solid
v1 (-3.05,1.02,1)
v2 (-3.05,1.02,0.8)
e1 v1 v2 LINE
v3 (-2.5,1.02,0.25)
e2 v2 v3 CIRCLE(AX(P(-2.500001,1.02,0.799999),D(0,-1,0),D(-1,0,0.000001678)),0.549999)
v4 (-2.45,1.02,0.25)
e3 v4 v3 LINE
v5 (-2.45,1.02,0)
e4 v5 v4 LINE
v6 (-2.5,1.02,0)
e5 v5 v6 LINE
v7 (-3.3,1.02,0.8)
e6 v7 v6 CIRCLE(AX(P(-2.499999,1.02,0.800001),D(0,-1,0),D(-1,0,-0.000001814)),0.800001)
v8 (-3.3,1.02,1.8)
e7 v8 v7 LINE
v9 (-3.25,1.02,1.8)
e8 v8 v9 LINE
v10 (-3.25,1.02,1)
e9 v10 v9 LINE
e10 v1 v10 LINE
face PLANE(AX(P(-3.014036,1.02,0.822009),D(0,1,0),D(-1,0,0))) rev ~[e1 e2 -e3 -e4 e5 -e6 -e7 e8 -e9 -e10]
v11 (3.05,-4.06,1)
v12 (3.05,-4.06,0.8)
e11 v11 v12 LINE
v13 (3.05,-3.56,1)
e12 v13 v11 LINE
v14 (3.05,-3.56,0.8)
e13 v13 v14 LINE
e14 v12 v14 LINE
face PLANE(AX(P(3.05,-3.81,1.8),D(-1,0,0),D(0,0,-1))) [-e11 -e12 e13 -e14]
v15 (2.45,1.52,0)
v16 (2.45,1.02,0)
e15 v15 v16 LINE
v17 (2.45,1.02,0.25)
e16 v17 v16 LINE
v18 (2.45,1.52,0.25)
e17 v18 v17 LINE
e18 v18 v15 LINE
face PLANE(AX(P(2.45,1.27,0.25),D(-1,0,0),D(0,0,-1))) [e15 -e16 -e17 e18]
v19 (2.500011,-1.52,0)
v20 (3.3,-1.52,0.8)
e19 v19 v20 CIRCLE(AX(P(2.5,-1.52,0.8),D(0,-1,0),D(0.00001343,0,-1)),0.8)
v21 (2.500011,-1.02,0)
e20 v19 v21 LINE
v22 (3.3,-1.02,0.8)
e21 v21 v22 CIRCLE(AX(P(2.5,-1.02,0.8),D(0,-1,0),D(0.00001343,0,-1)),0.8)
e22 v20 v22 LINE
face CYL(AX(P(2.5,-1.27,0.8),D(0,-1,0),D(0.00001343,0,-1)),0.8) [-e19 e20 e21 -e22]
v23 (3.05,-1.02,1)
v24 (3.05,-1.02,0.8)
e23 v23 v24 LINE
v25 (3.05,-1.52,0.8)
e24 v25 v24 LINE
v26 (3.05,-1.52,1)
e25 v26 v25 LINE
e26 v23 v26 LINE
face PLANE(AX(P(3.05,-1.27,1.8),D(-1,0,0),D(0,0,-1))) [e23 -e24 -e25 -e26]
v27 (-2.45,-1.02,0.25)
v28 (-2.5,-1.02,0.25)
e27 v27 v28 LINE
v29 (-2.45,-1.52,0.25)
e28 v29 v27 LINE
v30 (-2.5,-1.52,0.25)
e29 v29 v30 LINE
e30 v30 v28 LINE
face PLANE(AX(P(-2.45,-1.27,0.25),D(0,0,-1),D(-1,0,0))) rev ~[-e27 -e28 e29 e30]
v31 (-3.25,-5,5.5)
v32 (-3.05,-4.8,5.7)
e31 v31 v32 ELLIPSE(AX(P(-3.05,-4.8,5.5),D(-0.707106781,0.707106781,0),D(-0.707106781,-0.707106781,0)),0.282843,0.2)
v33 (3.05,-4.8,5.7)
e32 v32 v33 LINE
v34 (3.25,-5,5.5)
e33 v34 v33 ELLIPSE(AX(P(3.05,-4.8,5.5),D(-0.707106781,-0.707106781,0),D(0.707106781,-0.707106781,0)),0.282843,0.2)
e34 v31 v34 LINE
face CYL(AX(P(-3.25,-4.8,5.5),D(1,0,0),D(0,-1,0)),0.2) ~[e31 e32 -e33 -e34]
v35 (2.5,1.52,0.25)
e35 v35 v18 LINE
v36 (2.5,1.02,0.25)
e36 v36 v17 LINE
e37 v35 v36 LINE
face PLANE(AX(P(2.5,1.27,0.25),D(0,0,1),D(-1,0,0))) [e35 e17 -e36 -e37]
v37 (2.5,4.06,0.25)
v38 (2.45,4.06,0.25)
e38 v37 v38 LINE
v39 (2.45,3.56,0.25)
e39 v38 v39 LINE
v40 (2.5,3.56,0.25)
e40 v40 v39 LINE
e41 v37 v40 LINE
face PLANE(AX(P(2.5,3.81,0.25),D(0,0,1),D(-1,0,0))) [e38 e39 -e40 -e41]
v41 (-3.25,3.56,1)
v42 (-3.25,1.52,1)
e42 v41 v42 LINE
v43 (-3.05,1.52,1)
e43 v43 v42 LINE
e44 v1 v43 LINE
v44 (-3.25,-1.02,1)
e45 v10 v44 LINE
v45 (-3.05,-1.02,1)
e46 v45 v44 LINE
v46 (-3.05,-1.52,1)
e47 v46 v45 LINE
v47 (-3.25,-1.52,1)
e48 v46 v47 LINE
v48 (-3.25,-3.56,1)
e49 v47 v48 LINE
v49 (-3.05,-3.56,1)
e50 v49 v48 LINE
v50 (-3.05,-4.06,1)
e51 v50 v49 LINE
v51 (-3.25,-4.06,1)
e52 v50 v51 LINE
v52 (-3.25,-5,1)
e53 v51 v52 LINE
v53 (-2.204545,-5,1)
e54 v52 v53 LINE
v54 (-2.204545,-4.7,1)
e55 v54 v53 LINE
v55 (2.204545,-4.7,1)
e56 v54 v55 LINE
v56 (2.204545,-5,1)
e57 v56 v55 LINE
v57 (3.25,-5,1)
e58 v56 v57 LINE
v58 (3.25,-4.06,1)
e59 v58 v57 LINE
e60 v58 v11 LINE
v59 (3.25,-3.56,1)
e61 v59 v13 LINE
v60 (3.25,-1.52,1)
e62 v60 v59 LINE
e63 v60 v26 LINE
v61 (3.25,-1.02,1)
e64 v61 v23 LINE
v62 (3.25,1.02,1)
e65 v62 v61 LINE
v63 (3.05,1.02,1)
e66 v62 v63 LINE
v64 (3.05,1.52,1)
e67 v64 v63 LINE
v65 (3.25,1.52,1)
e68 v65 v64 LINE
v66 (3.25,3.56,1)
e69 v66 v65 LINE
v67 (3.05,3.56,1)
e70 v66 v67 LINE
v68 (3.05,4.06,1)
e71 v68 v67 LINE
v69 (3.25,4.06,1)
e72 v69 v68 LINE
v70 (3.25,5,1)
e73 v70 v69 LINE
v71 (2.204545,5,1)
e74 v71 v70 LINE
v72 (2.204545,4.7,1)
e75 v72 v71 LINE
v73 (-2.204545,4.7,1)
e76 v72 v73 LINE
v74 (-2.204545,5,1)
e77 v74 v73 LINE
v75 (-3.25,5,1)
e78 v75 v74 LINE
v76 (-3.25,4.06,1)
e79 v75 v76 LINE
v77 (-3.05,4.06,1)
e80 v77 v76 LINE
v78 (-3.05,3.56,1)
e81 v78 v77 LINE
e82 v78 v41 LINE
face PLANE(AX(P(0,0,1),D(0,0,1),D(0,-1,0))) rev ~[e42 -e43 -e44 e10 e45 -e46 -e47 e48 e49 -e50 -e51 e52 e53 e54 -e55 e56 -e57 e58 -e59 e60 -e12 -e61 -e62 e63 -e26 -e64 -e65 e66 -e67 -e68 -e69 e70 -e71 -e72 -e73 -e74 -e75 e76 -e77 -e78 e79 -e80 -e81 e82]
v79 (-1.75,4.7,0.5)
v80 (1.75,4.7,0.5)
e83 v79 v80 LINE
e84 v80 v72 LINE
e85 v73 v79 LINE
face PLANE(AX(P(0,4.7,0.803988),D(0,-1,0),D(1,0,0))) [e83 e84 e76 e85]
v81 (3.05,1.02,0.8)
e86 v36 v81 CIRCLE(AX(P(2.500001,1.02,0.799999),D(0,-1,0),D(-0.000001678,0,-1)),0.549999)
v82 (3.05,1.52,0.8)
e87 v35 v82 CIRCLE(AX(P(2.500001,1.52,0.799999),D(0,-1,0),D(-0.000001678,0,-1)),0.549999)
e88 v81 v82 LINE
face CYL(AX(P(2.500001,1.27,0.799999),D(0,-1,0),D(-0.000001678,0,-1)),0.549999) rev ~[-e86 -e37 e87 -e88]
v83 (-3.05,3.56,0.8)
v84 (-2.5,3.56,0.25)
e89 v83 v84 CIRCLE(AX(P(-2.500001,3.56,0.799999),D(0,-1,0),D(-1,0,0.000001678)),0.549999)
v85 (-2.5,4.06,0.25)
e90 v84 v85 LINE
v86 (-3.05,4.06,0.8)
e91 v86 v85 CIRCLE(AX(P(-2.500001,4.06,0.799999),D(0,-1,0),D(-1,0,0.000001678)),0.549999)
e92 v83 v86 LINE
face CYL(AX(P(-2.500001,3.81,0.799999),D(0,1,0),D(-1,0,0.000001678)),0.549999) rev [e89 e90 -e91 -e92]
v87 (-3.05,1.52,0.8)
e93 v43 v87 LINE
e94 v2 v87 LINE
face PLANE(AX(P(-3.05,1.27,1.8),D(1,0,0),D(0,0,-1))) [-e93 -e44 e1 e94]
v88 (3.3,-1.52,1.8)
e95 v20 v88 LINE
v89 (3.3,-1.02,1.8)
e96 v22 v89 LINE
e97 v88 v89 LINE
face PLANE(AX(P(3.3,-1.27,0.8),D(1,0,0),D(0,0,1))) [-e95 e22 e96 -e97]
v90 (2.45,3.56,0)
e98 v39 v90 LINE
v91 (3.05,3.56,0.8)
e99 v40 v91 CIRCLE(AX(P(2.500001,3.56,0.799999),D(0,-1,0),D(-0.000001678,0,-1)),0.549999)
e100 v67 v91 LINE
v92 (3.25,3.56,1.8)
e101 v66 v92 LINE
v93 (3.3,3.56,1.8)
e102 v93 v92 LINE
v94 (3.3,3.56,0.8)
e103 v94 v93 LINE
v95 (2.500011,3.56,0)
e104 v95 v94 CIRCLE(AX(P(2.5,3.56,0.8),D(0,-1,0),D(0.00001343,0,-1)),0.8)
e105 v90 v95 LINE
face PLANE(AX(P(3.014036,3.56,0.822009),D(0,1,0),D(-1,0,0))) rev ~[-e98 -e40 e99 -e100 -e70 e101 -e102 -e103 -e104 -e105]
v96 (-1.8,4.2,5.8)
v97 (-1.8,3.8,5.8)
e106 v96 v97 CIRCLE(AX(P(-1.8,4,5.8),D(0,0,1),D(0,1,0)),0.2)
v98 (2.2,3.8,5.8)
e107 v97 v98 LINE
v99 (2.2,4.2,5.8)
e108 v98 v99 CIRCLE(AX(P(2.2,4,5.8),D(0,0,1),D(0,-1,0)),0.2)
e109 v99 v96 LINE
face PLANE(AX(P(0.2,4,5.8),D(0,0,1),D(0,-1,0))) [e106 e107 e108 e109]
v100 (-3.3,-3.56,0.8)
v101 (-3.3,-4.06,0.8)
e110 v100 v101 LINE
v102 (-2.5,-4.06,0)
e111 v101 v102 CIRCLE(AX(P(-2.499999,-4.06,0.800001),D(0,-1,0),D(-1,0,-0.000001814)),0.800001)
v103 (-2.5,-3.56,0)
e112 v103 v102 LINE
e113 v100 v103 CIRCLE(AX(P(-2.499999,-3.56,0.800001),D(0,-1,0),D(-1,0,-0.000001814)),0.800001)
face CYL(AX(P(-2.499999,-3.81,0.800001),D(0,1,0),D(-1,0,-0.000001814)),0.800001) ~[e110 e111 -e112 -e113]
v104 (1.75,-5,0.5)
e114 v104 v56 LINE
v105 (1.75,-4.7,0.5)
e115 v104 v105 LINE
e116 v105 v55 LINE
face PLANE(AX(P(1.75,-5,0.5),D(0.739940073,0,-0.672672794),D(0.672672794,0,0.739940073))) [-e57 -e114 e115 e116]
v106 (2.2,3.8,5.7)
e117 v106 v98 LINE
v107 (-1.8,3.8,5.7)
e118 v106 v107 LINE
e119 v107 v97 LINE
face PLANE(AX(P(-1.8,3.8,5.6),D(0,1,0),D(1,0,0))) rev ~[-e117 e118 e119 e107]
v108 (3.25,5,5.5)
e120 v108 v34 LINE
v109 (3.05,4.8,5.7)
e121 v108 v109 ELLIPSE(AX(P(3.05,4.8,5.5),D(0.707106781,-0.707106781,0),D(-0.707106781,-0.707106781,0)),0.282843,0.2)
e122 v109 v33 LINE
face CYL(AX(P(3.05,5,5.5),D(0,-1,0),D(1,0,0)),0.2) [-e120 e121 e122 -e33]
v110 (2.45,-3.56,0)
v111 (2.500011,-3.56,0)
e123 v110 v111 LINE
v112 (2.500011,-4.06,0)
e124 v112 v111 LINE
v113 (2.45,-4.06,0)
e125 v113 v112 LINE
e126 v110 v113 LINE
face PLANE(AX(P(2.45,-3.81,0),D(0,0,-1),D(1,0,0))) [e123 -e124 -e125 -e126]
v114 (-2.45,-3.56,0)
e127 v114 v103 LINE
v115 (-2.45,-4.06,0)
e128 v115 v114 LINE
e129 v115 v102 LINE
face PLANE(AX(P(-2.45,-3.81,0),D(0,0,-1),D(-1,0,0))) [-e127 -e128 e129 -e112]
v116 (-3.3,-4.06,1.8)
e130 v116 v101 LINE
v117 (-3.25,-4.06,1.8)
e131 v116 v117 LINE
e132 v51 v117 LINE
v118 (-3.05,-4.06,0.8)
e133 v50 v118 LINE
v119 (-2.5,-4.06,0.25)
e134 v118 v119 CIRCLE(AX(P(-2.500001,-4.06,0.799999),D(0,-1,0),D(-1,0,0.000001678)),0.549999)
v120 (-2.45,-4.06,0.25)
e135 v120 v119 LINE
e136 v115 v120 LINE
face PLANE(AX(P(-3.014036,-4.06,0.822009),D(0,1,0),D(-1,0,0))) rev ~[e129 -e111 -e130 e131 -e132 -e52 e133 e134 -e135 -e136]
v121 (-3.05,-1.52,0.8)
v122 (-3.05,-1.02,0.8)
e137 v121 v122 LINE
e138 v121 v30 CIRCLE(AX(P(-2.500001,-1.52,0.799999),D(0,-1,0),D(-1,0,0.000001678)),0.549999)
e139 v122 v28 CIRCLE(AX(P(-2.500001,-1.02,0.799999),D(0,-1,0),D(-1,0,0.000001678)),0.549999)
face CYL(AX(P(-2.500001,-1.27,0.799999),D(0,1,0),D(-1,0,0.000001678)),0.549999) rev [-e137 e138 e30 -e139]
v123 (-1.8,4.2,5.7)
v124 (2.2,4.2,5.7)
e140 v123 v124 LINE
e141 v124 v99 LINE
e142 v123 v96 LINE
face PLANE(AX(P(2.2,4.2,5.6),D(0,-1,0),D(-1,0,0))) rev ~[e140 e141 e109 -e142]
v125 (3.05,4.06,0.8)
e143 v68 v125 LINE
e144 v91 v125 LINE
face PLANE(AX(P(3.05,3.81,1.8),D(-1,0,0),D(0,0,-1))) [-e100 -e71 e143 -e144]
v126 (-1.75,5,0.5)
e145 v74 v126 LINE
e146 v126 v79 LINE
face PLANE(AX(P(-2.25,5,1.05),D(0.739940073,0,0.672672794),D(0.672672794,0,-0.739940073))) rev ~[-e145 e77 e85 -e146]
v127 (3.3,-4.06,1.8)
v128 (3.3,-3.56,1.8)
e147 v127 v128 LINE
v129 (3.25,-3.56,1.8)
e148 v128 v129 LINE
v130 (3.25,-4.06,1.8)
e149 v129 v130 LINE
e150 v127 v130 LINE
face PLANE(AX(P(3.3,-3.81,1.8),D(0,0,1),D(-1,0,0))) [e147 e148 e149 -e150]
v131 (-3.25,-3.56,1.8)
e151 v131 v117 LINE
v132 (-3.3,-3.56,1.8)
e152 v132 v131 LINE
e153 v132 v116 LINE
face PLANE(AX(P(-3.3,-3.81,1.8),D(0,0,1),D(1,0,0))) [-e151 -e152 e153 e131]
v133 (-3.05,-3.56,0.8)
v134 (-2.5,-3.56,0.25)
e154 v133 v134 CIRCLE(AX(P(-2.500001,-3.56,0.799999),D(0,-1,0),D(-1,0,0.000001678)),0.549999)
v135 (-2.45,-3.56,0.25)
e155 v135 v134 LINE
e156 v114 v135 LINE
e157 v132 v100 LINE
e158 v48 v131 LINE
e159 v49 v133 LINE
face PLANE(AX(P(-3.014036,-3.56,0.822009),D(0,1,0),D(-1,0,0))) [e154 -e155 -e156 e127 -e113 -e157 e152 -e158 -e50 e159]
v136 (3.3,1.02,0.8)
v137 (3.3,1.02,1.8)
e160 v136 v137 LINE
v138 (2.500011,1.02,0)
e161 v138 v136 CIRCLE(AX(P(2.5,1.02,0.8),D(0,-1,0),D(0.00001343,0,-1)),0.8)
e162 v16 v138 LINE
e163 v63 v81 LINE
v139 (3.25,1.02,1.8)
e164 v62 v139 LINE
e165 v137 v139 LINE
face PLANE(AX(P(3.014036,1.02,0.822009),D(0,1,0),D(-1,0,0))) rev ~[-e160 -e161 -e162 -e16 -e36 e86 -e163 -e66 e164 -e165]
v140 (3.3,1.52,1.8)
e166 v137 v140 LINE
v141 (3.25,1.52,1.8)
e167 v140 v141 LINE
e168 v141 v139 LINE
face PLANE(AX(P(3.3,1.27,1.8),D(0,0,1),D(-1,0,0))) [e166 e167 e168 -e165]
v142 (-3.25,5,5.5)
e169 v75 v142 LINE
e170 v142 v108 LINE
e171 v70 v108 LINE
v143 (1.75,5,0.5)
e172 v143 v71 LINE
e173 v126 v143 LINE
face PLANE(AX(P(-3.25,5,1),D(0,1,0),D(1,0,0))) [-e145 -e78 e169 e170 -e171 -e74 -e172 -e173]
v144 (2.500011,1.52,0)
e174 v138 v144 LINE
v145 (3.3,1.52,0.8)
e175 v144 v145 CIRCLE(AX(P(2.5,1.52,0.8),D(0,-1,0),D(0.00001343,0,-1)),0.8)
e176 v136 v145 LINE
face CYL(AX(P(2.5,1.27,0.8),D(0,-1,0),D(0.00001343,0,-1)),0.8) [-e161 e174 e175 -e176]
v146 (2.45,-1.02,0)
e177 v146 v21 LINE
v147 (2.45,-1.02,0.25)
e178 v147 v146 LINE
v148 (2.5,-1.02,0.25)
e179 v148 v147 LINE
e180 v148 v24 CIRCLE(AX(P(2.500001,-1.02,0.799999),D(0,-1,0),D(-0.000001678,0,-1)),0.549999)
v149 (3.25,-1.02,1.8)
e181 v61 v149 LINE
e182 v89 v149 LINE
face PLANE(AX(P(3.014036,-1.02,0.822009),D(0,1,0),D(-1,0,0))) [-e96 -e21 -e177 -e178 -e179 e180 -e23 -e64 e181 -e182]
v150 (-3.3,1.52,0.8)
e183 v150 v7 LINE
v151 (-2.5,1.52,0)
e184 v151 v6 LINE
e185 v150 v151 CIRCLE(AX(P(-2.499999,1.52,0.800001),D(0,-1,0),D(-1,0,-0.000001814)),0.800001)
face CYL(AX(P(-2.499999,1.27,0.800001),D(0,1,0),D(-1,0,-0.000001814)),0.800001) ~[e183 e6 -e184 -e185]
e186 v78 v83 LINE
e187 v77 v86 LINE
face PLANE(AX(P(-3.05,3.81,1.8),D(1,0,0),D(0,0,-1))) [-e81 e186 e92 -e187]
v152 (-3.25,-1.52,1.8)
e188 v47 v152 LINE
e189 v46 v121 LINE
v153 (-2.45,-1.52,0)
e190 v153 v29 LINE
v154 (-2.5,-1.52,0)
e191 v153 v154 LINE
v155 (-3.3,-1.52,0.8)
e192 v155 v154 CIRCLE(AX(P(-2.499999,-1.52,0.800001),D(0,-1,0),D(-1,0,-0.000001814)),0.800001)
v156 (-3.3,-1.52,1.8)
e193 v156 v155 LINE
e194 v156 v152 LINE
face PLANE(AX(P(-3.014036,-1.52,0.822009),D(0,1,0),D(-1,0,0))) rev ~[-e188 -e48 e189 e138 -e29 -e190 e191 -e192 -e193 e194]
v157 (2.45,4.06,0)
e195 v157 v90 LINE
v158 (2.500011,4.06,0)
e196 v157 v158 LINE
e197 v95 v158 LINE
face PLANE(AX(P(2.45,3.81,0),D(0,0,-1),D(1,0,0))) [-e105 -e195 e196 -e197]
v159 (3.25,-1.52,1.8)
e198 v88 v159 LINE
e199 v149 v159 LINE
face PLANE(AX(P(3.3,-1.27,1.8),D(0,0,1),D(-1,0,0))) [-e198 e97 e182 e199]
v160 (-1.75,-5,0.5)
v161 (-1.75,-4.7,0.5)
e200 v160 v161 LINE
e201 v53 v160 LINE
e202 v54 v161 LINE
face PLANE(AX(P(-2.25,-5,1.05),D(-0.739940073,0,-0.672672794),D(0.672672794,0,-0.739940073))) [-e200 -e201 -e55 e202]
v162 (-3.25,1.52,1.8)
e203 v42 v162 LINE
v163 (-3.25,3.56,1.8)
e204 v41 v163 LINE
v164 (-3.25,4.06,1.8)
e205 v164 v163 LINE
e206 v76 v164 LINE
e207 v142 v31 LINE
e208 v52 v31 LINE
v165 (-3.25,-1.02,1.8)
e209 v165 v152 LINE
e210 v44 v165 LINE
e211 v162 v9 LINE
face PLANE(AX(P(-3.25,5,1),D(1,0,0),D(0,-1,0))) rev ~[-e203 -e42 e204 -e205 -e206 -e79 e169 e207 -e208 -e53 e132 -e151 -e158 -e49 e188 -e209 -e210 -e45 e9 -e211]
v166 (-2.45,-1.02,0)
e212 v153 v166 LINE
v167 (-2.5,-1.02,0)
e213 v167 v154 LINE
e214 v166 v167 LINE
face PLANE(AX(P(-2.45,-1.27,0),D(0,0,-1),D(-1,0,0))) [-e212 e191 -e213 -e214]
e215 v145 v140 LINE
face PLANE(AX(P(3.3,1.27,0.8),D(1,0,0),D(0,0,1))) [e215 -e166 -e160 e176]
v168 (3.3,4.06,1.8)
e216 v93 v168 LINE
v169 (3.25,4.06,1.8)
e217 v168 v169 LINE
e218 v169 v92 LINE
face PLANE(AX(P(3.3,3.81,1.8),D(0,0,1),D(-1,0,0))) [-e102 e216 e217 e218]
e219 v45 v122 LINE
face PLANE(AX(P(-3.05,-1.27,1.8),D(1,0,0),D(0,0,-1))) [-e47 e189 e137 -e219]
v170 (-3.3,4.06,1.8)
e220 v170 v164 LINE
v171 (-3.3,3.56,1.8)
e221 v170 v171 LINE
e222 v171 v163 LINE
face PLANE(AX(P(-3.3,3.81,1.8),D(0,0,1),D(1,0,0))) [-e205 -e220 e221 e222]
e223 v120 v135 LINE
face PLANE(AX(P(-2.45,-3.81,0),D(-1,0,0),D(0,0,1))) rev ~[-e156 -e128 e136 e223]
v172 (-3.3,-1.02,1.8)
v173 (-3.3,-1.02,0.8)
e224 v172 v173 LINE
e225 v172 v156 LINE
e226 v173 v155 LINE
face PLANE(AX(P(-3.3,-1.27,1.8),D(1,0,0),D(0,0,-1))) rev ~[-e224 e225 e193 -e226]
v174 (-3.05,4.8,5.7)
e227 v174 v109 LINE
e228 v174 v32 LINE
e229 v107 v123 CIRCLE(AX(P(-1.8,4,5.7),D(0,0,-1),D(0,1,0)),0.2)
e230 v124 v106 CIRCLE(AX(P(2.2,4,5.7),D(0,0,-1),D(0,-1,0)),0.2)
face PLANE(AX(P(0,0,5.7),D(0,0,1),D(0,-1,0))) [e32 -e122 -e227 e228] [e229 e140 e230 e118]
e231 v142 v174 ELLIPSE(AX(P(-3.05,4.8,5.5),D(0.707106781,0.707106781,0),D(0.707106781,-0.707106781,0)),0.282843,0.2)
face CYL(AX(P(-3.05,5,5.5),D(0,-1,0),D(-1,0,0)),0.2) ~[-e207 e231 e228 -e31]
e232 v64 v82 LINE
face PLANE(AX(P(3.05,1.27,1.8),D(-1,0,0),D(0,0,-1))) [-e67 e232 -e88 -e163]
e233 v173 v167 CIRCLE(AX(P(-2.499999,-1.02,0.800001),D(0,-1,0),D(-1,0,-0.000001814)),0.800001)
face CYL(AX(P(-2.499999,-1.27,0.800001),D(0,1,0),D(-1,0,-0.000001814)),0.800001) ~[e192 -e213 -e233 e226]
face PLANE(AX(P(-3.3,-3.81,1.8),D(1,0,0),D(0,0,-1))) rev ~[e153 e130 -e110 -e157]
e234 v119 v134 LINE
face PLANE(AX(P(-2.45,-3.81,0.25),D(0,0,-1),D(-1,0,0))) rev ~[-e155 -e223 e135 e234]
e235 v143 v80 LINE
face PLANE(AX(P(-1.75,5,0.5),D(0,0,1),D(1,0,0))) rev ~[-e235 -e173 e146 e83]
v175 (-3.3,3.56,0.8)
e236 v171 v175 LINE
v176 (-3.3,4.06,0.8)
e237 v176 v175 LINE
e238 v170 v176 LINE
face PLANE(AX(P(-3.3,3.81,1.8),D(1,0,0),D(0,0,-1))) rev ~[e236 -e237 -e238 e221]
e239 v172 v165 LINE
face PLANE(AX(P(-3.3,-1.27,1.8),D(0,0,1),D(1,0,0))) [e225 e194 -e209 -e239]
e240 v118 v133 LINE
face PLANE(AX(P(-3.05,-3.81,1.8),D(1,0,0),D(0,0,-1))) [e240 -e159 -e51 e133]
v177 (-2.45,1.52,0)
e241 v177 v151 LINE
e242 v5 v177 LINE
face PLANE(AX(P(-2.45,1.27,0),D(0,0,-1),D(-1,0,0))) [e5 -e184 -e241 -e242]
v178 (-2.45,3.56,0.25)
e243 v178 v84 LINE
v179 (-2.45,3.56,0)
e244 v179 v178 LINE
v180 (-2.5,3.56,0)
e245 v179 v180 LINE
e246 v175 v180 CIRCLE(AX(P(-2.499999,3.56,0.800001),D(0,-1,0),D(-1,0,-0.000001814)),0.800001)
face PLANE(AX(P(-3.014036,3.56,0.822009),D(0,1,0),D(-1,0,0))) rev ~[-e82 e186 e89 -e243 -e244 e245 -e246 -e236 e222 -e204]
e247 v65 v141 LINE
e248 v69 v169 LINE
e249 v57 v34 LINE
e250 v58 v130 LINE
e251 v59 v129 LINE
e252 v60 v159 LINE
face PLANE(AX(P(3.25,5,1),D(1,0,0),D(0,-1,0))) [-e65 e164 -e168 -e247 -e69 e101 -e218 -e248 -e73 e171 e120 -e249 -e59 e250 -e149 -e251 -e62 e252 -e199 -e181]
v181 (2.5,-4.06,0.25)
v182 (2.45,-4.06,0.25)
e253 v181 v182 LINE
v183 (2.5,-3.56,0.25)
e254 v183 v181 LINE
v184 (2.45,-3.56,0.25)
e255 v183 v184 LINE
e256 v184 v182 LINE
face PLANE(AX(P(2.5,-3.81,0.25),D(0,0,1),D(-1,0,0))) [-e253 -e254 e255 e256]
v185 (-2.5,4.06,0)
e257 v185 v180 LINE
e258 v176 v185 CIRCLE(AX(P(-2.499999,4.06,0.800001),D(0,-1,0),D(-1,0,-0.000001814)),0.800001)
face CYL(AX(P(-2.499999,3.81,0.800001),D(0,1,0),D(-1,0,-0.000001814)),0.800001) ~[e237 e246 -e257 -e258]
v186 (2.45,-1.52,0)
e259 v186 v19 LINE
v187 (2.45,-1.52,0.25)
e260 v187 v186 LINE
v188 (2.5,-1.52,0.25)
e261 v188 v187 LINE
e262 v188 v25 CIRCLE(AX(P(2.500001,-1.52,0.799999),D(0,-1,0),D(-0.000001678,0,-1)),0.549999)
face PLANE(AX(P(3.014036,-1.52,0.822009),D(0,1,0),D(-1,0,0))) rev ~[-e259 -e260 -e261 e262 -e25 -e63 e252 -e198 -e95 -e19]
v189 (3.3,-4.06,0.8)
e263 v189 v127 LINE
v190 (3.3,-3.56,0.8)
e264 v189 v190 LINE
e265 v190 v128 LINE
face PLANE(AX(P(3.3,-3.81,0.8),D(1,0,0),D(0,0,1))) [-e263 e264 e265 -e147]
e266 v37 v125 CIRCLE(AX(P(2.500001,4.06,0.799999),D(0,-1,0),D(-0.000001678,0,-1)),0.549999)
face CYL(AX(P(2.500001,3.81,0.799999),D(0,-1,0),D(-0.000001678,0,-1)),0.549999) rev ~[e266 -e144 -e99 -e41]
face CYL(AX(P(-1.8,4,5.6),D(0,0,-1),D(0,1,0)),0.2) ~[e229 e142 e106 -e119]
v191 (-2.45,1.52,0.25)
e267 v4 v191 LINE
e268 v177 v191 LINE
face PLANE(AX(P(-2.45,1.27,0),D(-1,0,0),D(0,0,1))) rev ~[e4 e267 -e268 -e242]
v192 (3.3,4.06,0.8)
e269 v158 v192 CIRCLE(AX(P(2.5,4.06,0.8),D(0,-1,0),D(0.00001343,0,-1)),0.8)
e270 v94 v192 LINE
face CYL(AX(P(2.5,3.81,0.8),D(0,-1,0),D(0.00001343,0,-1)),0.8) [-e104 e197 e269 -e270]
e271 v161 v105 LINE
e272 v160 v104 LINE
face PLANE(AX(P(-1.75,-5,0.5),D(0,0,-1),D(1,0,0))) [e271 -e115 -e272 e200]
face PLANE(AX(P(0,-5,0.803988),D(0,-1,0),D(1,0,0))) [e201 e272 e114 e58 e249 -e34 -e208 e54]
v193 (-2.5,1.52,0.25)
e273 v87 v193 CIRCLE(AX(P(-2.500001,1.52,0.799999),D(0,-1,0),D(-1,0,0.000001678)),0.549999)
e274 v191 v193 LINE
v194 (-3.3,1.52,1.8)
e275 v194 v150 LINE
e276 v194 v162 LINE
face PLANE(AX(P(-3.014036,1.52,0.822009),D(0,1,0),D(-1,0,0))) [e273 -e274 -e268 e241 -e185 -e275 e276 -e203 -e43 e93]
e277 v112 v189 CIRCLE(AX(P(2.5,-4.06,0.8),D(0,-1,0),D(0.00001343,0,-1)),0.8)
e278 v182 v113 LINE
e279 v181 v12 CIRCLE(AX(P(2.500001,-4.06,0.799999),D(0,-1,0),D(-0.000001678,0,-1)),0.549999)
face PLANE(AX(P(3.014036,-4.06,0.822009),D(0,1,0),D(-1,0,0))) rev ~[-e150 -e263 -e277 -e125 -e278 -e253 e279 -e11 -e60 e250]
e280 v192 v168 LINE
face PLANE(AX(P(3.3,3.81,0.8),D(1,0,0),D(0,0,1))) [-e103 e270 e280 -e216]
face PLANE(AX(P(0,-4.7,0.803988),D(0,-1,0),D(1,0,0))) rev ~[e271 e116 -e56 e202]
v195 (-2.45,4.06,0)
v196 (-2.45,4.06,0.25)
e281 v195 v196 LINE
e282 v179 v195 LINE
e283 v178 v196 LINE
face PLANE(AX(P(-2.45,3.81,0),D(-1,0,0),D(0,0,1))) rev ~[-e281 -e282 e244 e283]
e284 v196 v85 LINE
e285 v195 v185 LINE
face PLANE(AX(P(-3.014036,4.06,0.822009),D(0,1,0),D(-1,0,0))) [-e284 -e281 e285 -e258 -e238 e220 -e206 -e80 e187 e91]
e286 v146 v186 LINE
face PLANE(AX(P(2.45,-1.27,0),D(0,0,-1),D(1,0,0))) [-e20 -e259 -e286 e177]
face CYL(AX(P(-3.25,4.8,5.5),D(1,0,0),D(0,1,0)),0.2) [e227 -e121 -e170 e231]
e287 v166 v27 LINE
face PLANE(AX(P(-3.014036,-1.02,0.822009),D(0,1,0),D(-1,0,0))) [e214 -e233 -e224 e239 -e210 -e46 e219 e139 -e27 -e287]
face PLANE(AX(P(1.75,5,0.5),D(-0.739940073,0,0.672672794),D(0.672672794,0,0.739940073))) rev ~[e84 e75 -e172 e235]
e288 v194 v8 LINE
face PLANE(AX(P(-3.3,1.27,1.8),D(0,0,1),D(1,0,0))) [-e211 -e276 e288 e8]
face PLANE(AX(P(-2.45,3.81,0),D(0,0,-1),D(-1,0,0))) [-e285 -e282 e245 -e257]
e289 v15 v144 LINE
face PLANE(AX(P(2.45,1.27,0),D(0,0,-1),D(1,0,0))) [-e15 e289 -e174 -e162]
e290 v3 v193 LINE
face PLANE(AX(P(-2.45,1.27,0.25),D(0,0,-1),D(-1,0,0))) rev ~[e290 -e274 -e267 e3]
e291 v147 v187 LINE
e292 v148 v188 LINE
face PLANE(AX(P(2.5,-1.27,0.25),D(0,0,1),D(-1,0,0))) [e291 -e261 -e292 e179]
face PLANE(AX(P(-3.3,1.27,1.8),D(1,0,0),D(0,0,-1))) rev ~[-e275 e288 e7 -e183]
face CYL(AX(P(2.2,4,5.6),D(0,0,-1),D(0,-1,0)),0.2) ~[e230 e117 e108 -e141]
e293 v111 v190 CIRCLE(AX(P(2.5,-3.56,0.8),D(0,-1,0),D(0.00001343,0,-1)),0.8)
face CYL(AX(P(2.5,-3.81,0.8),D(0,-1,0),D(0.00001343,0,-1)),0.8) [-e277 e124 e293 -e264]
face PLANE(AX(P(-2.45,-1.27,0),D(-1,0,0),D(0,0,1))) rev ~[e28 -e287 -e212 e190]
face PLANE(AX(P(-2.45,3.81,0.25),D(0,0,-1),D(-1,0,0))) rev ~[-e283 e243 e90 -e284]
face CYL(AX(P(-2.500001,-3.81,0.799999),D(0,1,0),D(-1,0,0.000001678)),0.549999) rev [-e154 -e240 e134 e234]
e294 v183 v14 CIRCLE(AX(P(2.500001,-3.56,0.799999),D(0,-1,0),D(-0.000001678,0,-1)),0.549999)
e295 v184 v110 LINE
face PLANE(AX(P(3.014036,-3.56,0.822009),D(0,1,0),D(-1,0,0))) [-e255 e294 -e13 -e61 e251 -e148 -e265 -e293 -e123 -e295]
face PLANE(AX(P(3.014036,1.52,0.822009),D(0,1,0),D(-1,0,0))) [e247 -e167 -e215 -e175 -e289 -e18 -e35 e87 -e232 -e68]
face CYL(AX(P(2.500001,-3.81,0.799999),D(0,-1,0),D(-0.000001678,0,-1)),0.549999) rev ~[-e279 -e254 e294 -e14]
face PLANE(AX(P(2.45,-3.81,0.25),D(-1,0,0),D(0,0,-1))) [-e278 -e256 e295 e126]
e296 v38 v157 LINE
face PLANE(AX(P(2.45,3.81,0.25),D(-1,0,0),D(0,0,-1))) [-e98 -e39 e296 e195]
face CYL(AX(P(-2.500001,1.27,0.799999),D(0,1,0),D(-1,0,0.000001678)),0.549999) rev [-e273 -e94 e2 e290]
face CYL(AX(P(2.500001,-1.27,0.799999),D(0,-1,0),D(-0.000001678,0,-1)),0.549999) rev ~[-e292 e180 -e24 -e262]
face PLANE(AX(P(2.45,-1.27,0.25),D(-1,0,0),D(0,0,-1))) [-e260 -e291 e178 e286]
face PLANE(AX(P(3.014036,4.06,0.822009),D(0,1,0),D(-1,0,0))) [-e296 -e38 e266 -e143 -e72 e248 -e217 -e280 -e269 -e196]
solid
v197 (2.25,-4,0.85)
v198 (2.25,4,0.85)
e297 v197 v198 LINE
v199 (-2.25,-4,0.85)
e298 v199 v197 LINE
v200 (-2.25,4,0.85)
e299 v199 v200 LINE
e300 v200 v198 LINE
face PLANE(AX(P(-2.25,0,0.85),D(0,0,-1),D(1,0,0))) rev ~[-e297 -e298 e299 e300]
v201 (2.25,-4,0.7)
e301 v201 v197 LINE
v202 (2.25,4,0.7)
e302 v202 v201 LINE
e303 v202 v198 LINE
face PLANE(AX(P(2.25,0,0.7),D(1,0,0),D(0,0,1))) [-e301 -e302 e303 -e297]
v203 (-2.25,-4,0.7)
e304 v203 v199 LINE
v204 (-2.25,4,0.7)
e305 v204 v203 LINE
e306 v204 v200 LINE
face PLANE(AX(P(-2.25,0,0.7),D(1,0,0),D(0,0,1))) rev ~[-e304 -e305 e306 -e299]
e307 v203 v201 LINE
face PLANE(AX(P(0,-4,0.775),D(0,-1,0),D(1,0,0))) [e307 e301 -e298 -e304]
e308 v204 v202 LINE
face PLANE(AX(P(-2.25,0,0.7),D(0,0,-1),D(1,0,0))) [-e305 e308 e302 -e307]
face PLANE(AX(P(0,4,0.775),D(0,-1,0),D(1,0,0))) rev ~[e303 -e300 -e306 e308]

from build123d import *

# Parameters (mm, degrees)
SKETCH_W     = 10
SKETCH_H     = 6.5
PAD_DEPTH    = 4.7
FILLET_R     = 0.2
PAD010_DEPTH = 0.25
PAD012_DEPTH = 0.25
PAD007_DEPTH = 0.3
SKETCH008_W  = 4.5
SKETCH008_H  = 0.15
PAD006_DEPTH = 4
PAD013_DEPTH = 0.25
PAD011_DEPTH = 0.25
PAD014_DEPTH = 0.2
PAD008_DEPTH = 0.3


with BuildPart() as fillet_body:
    # Sketch → Pad (new body)
    with BuildSketch(Plane(origin=(0, 0, 1), x_dir=(0, -1, 0), z_dir=(0, 0, 1))):
        Rectangle(SKETCH_W, SKETCH_H)
    extrude(amount=PAD_DEPTH)

    # Fillet
    fillet_edges = [fillet_body.edges().sort_by_distance(p)[0] for p in [
        (-3.25, 0, 5.7),
        (0, -5, 5.7),
        (3.25, 0, 5.7),
        (0, 5, 5.7),
    ]]
    fillet(fillet_edges, radius=FILLET_R)


with BuildPart() as pad010:
    # Sketch011 → Pad010 (new body, symmetric)
    with BuildSketch(Plane.XZ.offset(1.27)):
        with BuildLine():
            Line((-3.3, 1.8), (-3.05, 1.8))
            Line((-3.05, 1.8), (-3.05, 0.8))
            ThreePointArc((-3.05, 0.8), (-2.888909, 0.411091), (-2.5, 0.25))
            Line((-2.45, 0.25), (-2.5, 0.25))
            Line((-2.45, 0), (-2.45, 0.25))
            Line((-2.45, 0), (-2.5, 0))
            ThreePointArc((-3.3, 0.8), (-3.065685, 0.234315), (-2.5, 0))
            Line((-3.3, 1.8), (-3.3, 0.8))
        make_face()
        with BuildLine():
            ThreePointArc((2.5, 0.25), (2.888909, 0.411091), (3.05, 0.8))
            Line((3.05, 1.8), (3.05, 0.8))
            Line((3.3, 1.8), (3.05, 1.8))
            Line((3.3, 0.8), (3.3, 1.8))
            ThreePointArc((2.500011, 0), (3.065689, 0.234318), (3.3, 0.8))
            Line((2.45, 0), (2.500011, 0))
            Line((2.45, 0.25), (2.45, 0))
            Line((2.5, 0.25), (2.45, 0.25))
        make_face()
    extrude(amount=PAD010_DEPTH, both=True)


with BuildPart() as pad012:
    # Sketch013 → Pad012 (new body, symmetric)
    with BuildSketch(Plane.XZ.offset(-3.81)):
        with BuildLine():
            Line((-3.3, 1.8), (-3.05, 1.8))
            Line((-3.05, 1.8), (-3.05, 0.8))
            ThreePointArc((-3.05, 0.8), (-2.888909, 0.411091), (-2.5, 0.25))
            Line((-2.45, 0.25), (-2.5, 0.25))
            Line((-2.45, 0), (-2.45, 0.25))
            Line((-2.45, 0), (-2.5, 0))
            ThreePointArc((-3.3, 0.8), (-3.065685, 0.234315), (-2.5, 0))
            Line((-3.3, 1.8), (-3.3, 0.8))
        make_face()
        with BuildLine():
            ThreePointArc((2.5, 0.25), (2.888909, 0.411091), (3.05, 0.8))
            Line((3.05, 1.8), (3.05, 0.8))
            Line((3.3, 1.8), (3.05, 1.8))
            Line((3.3, 0.8), (3.3, 1.8))
            ThreePointArc((2.500011, 0), (3.065689, 0.234318), (3.3, 0.8))
            Line((2.45, 0), (2.500011, 0))
            Line((2.45, 0.25), (2.45, 0))
            Line((2.5, 0.25), (2.45, 0.25))
        make_face()
    extrude(amount=PAD012_DEPTH, both=True)


with BuildPart() as pad007:
    # Sketch009 → Pad007 (new body)
    with BuildSketch(Plane.XZ.offset(5)):
        Polygon((-1.75, 0.5), (1.75, 0.5), (2.25, 1.05), (-2.25, 1.05), align=None)
    extrude(amount=-PAD007_DEPTH)


with BuildPart() as pad006:
    # Sketch008 → Pad006 (new body, symmetric)
    with BuildSketch(Plane.XZ):
        with Locations((0, 0.775)):
            Rectangle(SKETCH008_W, SKETCH008_H)
    extrude(amount=PAD006_DEPTH, both=True)


with BuildPart() as pad013:
    # Sketch014 → Pad013 (new body, symmetric)
    with BuildSketch(Plane.XZ.offset(3.81)):
        with BuildLine():
            Line((-3.3, 1.8), (-3.05, 1.8))
            Line((-3.05, 1.8), (-3.05, 0.8))
            ThreePointArc((-3.05, 0.8), (-2.888909, 0.411091), (-2.5, 0.25))
            Line((-2.45, 0.25), (-2.5, 0.25))
            Line((-2.45, 0), (-2.45, 0.25))
            Line((-2.45, 0), (-2.5, 0))
            ThreePointArc((-3.3, 0.8), (-3.065685, 0.234315), (-2.5, 0))
            Line((-3.3, 1.8), (-3.3, 0.8))
        make_face()
        with BuildLine():
            ThreePointArc((2.5, 0.25), (2.888909, 0.411091), (3.05, 0.8))
            Line((3.05, 1.8), (3.05, 0.8))
            Line((3.3, 1.8), (3.05, 1.8))
            Line((3.3, 0.8), (3.3, 1.8))
            ThreePointArc((2.500011, 0), (3.065689, 0.234318), (3.3, 0.8))
            Line((2.45, 0), (2.500011, 0))
            Line((2.45, 0.25), (2.45, 0))
            Line((2.5, 0.25), (2.45, 0.25))
        make_face()
    extrude(amount=PAD013_DEPTH, both=True)


with BuildPart() as pad011:
    # Sketch012 → Pad011 (new body, symmetric)
    with BuildSketch(Plane.XZ.offset(-1.27)):
        with BuildLine():
            Line((-3.3, 1.8), (-3.05, 1.8))
            Line((-3.05, 1.8), (-3.05, 0.8))
            ThreePointArc((-3.05, 0.8), (-2.888909, 0.411091), (-2.5, 0.25))
            Line((-2.45, 0.25), (-2.5, 0.25))
            Line((-2.45, 0), (-2.45, 0.25))
            Line((-2.45, 0), (-2.5, 0))
            ThreePointArc((-3.3, 0.8), (-3.065685, 0.234315), (-2.5, 0))
            Line((-3.3, 1.8), (-3.3, 0.8))
        make_face()
        with BuildLine():
            ThreePointArc((2.5, 0.25), (2.888909, 0.411091), (3.05, 0.8))
            Line((3.05, 1.8), (3.05, 0.8))
            Line((3.3, 1.8), (3.05, 1.8))
            Line((3.3, 0.8), (3.3, 1.8))
            ThreePointArc((2.500011, 0), (3.065689, 0.234318), (3.3, 0.8))
            Line((2.45, 0), (2.500011, 0))
            Line((2.45, 0.25), (2.45, 0))
            Line((2.5, 0.25), (2.45, 0.25))
        make_face()
    extrude(amount=PAD011_DEPTH, both=True)


with BuildPart() as pad014:
    # Sketch001 → Pad014 (new body)
    with BuildSketch(Plane(origin=(0, 0, 5.6), x_dir=(0, -1, 0), z_dir=(0, 0, 1))):
        with BuildLine():
            Line((-3.8, -1.8), (-3.8, 2.2))
            ThreePointArc((-3.8, 2.2), (-4, 2.4), (-4.2, 2.2))
            Line((-4.2, 2.2), (-4.2, -1.8))
            ThreePointArc((-4.2, -1.8), (-4, -2), (-3.8, -1.8))
        make_face()
    extrude(amount=PAD014_DEPTH)


with BuildPart() as relay_dpdt_omron_g6k_2g:
    # Sketch010 → Pad008 (new body)
    with BuildSketch(Plane.XZ.offset(-5)):
        Polygon((-1.75, 0.5), (1.75, 0.5), (2.25, 1.05), (-2.25, 1.05), align=None)
    extrude(amount=PAD008_DEPTH)

    # Pad008_mp_cp: union Fillet body, Pad010, Pad012, Pad007, Pad006, Pad013, Pad011, Pad014
    add(fillet_body.part)
    add(pad010.part)
    add(pad012.part)
    add(pad007.part)
    add(pad006.part)
    add(pad013.part)
    add(pad011.part)
    add(pad014.part)


solid = relay_dpdt_omron_g6k_2g.part
